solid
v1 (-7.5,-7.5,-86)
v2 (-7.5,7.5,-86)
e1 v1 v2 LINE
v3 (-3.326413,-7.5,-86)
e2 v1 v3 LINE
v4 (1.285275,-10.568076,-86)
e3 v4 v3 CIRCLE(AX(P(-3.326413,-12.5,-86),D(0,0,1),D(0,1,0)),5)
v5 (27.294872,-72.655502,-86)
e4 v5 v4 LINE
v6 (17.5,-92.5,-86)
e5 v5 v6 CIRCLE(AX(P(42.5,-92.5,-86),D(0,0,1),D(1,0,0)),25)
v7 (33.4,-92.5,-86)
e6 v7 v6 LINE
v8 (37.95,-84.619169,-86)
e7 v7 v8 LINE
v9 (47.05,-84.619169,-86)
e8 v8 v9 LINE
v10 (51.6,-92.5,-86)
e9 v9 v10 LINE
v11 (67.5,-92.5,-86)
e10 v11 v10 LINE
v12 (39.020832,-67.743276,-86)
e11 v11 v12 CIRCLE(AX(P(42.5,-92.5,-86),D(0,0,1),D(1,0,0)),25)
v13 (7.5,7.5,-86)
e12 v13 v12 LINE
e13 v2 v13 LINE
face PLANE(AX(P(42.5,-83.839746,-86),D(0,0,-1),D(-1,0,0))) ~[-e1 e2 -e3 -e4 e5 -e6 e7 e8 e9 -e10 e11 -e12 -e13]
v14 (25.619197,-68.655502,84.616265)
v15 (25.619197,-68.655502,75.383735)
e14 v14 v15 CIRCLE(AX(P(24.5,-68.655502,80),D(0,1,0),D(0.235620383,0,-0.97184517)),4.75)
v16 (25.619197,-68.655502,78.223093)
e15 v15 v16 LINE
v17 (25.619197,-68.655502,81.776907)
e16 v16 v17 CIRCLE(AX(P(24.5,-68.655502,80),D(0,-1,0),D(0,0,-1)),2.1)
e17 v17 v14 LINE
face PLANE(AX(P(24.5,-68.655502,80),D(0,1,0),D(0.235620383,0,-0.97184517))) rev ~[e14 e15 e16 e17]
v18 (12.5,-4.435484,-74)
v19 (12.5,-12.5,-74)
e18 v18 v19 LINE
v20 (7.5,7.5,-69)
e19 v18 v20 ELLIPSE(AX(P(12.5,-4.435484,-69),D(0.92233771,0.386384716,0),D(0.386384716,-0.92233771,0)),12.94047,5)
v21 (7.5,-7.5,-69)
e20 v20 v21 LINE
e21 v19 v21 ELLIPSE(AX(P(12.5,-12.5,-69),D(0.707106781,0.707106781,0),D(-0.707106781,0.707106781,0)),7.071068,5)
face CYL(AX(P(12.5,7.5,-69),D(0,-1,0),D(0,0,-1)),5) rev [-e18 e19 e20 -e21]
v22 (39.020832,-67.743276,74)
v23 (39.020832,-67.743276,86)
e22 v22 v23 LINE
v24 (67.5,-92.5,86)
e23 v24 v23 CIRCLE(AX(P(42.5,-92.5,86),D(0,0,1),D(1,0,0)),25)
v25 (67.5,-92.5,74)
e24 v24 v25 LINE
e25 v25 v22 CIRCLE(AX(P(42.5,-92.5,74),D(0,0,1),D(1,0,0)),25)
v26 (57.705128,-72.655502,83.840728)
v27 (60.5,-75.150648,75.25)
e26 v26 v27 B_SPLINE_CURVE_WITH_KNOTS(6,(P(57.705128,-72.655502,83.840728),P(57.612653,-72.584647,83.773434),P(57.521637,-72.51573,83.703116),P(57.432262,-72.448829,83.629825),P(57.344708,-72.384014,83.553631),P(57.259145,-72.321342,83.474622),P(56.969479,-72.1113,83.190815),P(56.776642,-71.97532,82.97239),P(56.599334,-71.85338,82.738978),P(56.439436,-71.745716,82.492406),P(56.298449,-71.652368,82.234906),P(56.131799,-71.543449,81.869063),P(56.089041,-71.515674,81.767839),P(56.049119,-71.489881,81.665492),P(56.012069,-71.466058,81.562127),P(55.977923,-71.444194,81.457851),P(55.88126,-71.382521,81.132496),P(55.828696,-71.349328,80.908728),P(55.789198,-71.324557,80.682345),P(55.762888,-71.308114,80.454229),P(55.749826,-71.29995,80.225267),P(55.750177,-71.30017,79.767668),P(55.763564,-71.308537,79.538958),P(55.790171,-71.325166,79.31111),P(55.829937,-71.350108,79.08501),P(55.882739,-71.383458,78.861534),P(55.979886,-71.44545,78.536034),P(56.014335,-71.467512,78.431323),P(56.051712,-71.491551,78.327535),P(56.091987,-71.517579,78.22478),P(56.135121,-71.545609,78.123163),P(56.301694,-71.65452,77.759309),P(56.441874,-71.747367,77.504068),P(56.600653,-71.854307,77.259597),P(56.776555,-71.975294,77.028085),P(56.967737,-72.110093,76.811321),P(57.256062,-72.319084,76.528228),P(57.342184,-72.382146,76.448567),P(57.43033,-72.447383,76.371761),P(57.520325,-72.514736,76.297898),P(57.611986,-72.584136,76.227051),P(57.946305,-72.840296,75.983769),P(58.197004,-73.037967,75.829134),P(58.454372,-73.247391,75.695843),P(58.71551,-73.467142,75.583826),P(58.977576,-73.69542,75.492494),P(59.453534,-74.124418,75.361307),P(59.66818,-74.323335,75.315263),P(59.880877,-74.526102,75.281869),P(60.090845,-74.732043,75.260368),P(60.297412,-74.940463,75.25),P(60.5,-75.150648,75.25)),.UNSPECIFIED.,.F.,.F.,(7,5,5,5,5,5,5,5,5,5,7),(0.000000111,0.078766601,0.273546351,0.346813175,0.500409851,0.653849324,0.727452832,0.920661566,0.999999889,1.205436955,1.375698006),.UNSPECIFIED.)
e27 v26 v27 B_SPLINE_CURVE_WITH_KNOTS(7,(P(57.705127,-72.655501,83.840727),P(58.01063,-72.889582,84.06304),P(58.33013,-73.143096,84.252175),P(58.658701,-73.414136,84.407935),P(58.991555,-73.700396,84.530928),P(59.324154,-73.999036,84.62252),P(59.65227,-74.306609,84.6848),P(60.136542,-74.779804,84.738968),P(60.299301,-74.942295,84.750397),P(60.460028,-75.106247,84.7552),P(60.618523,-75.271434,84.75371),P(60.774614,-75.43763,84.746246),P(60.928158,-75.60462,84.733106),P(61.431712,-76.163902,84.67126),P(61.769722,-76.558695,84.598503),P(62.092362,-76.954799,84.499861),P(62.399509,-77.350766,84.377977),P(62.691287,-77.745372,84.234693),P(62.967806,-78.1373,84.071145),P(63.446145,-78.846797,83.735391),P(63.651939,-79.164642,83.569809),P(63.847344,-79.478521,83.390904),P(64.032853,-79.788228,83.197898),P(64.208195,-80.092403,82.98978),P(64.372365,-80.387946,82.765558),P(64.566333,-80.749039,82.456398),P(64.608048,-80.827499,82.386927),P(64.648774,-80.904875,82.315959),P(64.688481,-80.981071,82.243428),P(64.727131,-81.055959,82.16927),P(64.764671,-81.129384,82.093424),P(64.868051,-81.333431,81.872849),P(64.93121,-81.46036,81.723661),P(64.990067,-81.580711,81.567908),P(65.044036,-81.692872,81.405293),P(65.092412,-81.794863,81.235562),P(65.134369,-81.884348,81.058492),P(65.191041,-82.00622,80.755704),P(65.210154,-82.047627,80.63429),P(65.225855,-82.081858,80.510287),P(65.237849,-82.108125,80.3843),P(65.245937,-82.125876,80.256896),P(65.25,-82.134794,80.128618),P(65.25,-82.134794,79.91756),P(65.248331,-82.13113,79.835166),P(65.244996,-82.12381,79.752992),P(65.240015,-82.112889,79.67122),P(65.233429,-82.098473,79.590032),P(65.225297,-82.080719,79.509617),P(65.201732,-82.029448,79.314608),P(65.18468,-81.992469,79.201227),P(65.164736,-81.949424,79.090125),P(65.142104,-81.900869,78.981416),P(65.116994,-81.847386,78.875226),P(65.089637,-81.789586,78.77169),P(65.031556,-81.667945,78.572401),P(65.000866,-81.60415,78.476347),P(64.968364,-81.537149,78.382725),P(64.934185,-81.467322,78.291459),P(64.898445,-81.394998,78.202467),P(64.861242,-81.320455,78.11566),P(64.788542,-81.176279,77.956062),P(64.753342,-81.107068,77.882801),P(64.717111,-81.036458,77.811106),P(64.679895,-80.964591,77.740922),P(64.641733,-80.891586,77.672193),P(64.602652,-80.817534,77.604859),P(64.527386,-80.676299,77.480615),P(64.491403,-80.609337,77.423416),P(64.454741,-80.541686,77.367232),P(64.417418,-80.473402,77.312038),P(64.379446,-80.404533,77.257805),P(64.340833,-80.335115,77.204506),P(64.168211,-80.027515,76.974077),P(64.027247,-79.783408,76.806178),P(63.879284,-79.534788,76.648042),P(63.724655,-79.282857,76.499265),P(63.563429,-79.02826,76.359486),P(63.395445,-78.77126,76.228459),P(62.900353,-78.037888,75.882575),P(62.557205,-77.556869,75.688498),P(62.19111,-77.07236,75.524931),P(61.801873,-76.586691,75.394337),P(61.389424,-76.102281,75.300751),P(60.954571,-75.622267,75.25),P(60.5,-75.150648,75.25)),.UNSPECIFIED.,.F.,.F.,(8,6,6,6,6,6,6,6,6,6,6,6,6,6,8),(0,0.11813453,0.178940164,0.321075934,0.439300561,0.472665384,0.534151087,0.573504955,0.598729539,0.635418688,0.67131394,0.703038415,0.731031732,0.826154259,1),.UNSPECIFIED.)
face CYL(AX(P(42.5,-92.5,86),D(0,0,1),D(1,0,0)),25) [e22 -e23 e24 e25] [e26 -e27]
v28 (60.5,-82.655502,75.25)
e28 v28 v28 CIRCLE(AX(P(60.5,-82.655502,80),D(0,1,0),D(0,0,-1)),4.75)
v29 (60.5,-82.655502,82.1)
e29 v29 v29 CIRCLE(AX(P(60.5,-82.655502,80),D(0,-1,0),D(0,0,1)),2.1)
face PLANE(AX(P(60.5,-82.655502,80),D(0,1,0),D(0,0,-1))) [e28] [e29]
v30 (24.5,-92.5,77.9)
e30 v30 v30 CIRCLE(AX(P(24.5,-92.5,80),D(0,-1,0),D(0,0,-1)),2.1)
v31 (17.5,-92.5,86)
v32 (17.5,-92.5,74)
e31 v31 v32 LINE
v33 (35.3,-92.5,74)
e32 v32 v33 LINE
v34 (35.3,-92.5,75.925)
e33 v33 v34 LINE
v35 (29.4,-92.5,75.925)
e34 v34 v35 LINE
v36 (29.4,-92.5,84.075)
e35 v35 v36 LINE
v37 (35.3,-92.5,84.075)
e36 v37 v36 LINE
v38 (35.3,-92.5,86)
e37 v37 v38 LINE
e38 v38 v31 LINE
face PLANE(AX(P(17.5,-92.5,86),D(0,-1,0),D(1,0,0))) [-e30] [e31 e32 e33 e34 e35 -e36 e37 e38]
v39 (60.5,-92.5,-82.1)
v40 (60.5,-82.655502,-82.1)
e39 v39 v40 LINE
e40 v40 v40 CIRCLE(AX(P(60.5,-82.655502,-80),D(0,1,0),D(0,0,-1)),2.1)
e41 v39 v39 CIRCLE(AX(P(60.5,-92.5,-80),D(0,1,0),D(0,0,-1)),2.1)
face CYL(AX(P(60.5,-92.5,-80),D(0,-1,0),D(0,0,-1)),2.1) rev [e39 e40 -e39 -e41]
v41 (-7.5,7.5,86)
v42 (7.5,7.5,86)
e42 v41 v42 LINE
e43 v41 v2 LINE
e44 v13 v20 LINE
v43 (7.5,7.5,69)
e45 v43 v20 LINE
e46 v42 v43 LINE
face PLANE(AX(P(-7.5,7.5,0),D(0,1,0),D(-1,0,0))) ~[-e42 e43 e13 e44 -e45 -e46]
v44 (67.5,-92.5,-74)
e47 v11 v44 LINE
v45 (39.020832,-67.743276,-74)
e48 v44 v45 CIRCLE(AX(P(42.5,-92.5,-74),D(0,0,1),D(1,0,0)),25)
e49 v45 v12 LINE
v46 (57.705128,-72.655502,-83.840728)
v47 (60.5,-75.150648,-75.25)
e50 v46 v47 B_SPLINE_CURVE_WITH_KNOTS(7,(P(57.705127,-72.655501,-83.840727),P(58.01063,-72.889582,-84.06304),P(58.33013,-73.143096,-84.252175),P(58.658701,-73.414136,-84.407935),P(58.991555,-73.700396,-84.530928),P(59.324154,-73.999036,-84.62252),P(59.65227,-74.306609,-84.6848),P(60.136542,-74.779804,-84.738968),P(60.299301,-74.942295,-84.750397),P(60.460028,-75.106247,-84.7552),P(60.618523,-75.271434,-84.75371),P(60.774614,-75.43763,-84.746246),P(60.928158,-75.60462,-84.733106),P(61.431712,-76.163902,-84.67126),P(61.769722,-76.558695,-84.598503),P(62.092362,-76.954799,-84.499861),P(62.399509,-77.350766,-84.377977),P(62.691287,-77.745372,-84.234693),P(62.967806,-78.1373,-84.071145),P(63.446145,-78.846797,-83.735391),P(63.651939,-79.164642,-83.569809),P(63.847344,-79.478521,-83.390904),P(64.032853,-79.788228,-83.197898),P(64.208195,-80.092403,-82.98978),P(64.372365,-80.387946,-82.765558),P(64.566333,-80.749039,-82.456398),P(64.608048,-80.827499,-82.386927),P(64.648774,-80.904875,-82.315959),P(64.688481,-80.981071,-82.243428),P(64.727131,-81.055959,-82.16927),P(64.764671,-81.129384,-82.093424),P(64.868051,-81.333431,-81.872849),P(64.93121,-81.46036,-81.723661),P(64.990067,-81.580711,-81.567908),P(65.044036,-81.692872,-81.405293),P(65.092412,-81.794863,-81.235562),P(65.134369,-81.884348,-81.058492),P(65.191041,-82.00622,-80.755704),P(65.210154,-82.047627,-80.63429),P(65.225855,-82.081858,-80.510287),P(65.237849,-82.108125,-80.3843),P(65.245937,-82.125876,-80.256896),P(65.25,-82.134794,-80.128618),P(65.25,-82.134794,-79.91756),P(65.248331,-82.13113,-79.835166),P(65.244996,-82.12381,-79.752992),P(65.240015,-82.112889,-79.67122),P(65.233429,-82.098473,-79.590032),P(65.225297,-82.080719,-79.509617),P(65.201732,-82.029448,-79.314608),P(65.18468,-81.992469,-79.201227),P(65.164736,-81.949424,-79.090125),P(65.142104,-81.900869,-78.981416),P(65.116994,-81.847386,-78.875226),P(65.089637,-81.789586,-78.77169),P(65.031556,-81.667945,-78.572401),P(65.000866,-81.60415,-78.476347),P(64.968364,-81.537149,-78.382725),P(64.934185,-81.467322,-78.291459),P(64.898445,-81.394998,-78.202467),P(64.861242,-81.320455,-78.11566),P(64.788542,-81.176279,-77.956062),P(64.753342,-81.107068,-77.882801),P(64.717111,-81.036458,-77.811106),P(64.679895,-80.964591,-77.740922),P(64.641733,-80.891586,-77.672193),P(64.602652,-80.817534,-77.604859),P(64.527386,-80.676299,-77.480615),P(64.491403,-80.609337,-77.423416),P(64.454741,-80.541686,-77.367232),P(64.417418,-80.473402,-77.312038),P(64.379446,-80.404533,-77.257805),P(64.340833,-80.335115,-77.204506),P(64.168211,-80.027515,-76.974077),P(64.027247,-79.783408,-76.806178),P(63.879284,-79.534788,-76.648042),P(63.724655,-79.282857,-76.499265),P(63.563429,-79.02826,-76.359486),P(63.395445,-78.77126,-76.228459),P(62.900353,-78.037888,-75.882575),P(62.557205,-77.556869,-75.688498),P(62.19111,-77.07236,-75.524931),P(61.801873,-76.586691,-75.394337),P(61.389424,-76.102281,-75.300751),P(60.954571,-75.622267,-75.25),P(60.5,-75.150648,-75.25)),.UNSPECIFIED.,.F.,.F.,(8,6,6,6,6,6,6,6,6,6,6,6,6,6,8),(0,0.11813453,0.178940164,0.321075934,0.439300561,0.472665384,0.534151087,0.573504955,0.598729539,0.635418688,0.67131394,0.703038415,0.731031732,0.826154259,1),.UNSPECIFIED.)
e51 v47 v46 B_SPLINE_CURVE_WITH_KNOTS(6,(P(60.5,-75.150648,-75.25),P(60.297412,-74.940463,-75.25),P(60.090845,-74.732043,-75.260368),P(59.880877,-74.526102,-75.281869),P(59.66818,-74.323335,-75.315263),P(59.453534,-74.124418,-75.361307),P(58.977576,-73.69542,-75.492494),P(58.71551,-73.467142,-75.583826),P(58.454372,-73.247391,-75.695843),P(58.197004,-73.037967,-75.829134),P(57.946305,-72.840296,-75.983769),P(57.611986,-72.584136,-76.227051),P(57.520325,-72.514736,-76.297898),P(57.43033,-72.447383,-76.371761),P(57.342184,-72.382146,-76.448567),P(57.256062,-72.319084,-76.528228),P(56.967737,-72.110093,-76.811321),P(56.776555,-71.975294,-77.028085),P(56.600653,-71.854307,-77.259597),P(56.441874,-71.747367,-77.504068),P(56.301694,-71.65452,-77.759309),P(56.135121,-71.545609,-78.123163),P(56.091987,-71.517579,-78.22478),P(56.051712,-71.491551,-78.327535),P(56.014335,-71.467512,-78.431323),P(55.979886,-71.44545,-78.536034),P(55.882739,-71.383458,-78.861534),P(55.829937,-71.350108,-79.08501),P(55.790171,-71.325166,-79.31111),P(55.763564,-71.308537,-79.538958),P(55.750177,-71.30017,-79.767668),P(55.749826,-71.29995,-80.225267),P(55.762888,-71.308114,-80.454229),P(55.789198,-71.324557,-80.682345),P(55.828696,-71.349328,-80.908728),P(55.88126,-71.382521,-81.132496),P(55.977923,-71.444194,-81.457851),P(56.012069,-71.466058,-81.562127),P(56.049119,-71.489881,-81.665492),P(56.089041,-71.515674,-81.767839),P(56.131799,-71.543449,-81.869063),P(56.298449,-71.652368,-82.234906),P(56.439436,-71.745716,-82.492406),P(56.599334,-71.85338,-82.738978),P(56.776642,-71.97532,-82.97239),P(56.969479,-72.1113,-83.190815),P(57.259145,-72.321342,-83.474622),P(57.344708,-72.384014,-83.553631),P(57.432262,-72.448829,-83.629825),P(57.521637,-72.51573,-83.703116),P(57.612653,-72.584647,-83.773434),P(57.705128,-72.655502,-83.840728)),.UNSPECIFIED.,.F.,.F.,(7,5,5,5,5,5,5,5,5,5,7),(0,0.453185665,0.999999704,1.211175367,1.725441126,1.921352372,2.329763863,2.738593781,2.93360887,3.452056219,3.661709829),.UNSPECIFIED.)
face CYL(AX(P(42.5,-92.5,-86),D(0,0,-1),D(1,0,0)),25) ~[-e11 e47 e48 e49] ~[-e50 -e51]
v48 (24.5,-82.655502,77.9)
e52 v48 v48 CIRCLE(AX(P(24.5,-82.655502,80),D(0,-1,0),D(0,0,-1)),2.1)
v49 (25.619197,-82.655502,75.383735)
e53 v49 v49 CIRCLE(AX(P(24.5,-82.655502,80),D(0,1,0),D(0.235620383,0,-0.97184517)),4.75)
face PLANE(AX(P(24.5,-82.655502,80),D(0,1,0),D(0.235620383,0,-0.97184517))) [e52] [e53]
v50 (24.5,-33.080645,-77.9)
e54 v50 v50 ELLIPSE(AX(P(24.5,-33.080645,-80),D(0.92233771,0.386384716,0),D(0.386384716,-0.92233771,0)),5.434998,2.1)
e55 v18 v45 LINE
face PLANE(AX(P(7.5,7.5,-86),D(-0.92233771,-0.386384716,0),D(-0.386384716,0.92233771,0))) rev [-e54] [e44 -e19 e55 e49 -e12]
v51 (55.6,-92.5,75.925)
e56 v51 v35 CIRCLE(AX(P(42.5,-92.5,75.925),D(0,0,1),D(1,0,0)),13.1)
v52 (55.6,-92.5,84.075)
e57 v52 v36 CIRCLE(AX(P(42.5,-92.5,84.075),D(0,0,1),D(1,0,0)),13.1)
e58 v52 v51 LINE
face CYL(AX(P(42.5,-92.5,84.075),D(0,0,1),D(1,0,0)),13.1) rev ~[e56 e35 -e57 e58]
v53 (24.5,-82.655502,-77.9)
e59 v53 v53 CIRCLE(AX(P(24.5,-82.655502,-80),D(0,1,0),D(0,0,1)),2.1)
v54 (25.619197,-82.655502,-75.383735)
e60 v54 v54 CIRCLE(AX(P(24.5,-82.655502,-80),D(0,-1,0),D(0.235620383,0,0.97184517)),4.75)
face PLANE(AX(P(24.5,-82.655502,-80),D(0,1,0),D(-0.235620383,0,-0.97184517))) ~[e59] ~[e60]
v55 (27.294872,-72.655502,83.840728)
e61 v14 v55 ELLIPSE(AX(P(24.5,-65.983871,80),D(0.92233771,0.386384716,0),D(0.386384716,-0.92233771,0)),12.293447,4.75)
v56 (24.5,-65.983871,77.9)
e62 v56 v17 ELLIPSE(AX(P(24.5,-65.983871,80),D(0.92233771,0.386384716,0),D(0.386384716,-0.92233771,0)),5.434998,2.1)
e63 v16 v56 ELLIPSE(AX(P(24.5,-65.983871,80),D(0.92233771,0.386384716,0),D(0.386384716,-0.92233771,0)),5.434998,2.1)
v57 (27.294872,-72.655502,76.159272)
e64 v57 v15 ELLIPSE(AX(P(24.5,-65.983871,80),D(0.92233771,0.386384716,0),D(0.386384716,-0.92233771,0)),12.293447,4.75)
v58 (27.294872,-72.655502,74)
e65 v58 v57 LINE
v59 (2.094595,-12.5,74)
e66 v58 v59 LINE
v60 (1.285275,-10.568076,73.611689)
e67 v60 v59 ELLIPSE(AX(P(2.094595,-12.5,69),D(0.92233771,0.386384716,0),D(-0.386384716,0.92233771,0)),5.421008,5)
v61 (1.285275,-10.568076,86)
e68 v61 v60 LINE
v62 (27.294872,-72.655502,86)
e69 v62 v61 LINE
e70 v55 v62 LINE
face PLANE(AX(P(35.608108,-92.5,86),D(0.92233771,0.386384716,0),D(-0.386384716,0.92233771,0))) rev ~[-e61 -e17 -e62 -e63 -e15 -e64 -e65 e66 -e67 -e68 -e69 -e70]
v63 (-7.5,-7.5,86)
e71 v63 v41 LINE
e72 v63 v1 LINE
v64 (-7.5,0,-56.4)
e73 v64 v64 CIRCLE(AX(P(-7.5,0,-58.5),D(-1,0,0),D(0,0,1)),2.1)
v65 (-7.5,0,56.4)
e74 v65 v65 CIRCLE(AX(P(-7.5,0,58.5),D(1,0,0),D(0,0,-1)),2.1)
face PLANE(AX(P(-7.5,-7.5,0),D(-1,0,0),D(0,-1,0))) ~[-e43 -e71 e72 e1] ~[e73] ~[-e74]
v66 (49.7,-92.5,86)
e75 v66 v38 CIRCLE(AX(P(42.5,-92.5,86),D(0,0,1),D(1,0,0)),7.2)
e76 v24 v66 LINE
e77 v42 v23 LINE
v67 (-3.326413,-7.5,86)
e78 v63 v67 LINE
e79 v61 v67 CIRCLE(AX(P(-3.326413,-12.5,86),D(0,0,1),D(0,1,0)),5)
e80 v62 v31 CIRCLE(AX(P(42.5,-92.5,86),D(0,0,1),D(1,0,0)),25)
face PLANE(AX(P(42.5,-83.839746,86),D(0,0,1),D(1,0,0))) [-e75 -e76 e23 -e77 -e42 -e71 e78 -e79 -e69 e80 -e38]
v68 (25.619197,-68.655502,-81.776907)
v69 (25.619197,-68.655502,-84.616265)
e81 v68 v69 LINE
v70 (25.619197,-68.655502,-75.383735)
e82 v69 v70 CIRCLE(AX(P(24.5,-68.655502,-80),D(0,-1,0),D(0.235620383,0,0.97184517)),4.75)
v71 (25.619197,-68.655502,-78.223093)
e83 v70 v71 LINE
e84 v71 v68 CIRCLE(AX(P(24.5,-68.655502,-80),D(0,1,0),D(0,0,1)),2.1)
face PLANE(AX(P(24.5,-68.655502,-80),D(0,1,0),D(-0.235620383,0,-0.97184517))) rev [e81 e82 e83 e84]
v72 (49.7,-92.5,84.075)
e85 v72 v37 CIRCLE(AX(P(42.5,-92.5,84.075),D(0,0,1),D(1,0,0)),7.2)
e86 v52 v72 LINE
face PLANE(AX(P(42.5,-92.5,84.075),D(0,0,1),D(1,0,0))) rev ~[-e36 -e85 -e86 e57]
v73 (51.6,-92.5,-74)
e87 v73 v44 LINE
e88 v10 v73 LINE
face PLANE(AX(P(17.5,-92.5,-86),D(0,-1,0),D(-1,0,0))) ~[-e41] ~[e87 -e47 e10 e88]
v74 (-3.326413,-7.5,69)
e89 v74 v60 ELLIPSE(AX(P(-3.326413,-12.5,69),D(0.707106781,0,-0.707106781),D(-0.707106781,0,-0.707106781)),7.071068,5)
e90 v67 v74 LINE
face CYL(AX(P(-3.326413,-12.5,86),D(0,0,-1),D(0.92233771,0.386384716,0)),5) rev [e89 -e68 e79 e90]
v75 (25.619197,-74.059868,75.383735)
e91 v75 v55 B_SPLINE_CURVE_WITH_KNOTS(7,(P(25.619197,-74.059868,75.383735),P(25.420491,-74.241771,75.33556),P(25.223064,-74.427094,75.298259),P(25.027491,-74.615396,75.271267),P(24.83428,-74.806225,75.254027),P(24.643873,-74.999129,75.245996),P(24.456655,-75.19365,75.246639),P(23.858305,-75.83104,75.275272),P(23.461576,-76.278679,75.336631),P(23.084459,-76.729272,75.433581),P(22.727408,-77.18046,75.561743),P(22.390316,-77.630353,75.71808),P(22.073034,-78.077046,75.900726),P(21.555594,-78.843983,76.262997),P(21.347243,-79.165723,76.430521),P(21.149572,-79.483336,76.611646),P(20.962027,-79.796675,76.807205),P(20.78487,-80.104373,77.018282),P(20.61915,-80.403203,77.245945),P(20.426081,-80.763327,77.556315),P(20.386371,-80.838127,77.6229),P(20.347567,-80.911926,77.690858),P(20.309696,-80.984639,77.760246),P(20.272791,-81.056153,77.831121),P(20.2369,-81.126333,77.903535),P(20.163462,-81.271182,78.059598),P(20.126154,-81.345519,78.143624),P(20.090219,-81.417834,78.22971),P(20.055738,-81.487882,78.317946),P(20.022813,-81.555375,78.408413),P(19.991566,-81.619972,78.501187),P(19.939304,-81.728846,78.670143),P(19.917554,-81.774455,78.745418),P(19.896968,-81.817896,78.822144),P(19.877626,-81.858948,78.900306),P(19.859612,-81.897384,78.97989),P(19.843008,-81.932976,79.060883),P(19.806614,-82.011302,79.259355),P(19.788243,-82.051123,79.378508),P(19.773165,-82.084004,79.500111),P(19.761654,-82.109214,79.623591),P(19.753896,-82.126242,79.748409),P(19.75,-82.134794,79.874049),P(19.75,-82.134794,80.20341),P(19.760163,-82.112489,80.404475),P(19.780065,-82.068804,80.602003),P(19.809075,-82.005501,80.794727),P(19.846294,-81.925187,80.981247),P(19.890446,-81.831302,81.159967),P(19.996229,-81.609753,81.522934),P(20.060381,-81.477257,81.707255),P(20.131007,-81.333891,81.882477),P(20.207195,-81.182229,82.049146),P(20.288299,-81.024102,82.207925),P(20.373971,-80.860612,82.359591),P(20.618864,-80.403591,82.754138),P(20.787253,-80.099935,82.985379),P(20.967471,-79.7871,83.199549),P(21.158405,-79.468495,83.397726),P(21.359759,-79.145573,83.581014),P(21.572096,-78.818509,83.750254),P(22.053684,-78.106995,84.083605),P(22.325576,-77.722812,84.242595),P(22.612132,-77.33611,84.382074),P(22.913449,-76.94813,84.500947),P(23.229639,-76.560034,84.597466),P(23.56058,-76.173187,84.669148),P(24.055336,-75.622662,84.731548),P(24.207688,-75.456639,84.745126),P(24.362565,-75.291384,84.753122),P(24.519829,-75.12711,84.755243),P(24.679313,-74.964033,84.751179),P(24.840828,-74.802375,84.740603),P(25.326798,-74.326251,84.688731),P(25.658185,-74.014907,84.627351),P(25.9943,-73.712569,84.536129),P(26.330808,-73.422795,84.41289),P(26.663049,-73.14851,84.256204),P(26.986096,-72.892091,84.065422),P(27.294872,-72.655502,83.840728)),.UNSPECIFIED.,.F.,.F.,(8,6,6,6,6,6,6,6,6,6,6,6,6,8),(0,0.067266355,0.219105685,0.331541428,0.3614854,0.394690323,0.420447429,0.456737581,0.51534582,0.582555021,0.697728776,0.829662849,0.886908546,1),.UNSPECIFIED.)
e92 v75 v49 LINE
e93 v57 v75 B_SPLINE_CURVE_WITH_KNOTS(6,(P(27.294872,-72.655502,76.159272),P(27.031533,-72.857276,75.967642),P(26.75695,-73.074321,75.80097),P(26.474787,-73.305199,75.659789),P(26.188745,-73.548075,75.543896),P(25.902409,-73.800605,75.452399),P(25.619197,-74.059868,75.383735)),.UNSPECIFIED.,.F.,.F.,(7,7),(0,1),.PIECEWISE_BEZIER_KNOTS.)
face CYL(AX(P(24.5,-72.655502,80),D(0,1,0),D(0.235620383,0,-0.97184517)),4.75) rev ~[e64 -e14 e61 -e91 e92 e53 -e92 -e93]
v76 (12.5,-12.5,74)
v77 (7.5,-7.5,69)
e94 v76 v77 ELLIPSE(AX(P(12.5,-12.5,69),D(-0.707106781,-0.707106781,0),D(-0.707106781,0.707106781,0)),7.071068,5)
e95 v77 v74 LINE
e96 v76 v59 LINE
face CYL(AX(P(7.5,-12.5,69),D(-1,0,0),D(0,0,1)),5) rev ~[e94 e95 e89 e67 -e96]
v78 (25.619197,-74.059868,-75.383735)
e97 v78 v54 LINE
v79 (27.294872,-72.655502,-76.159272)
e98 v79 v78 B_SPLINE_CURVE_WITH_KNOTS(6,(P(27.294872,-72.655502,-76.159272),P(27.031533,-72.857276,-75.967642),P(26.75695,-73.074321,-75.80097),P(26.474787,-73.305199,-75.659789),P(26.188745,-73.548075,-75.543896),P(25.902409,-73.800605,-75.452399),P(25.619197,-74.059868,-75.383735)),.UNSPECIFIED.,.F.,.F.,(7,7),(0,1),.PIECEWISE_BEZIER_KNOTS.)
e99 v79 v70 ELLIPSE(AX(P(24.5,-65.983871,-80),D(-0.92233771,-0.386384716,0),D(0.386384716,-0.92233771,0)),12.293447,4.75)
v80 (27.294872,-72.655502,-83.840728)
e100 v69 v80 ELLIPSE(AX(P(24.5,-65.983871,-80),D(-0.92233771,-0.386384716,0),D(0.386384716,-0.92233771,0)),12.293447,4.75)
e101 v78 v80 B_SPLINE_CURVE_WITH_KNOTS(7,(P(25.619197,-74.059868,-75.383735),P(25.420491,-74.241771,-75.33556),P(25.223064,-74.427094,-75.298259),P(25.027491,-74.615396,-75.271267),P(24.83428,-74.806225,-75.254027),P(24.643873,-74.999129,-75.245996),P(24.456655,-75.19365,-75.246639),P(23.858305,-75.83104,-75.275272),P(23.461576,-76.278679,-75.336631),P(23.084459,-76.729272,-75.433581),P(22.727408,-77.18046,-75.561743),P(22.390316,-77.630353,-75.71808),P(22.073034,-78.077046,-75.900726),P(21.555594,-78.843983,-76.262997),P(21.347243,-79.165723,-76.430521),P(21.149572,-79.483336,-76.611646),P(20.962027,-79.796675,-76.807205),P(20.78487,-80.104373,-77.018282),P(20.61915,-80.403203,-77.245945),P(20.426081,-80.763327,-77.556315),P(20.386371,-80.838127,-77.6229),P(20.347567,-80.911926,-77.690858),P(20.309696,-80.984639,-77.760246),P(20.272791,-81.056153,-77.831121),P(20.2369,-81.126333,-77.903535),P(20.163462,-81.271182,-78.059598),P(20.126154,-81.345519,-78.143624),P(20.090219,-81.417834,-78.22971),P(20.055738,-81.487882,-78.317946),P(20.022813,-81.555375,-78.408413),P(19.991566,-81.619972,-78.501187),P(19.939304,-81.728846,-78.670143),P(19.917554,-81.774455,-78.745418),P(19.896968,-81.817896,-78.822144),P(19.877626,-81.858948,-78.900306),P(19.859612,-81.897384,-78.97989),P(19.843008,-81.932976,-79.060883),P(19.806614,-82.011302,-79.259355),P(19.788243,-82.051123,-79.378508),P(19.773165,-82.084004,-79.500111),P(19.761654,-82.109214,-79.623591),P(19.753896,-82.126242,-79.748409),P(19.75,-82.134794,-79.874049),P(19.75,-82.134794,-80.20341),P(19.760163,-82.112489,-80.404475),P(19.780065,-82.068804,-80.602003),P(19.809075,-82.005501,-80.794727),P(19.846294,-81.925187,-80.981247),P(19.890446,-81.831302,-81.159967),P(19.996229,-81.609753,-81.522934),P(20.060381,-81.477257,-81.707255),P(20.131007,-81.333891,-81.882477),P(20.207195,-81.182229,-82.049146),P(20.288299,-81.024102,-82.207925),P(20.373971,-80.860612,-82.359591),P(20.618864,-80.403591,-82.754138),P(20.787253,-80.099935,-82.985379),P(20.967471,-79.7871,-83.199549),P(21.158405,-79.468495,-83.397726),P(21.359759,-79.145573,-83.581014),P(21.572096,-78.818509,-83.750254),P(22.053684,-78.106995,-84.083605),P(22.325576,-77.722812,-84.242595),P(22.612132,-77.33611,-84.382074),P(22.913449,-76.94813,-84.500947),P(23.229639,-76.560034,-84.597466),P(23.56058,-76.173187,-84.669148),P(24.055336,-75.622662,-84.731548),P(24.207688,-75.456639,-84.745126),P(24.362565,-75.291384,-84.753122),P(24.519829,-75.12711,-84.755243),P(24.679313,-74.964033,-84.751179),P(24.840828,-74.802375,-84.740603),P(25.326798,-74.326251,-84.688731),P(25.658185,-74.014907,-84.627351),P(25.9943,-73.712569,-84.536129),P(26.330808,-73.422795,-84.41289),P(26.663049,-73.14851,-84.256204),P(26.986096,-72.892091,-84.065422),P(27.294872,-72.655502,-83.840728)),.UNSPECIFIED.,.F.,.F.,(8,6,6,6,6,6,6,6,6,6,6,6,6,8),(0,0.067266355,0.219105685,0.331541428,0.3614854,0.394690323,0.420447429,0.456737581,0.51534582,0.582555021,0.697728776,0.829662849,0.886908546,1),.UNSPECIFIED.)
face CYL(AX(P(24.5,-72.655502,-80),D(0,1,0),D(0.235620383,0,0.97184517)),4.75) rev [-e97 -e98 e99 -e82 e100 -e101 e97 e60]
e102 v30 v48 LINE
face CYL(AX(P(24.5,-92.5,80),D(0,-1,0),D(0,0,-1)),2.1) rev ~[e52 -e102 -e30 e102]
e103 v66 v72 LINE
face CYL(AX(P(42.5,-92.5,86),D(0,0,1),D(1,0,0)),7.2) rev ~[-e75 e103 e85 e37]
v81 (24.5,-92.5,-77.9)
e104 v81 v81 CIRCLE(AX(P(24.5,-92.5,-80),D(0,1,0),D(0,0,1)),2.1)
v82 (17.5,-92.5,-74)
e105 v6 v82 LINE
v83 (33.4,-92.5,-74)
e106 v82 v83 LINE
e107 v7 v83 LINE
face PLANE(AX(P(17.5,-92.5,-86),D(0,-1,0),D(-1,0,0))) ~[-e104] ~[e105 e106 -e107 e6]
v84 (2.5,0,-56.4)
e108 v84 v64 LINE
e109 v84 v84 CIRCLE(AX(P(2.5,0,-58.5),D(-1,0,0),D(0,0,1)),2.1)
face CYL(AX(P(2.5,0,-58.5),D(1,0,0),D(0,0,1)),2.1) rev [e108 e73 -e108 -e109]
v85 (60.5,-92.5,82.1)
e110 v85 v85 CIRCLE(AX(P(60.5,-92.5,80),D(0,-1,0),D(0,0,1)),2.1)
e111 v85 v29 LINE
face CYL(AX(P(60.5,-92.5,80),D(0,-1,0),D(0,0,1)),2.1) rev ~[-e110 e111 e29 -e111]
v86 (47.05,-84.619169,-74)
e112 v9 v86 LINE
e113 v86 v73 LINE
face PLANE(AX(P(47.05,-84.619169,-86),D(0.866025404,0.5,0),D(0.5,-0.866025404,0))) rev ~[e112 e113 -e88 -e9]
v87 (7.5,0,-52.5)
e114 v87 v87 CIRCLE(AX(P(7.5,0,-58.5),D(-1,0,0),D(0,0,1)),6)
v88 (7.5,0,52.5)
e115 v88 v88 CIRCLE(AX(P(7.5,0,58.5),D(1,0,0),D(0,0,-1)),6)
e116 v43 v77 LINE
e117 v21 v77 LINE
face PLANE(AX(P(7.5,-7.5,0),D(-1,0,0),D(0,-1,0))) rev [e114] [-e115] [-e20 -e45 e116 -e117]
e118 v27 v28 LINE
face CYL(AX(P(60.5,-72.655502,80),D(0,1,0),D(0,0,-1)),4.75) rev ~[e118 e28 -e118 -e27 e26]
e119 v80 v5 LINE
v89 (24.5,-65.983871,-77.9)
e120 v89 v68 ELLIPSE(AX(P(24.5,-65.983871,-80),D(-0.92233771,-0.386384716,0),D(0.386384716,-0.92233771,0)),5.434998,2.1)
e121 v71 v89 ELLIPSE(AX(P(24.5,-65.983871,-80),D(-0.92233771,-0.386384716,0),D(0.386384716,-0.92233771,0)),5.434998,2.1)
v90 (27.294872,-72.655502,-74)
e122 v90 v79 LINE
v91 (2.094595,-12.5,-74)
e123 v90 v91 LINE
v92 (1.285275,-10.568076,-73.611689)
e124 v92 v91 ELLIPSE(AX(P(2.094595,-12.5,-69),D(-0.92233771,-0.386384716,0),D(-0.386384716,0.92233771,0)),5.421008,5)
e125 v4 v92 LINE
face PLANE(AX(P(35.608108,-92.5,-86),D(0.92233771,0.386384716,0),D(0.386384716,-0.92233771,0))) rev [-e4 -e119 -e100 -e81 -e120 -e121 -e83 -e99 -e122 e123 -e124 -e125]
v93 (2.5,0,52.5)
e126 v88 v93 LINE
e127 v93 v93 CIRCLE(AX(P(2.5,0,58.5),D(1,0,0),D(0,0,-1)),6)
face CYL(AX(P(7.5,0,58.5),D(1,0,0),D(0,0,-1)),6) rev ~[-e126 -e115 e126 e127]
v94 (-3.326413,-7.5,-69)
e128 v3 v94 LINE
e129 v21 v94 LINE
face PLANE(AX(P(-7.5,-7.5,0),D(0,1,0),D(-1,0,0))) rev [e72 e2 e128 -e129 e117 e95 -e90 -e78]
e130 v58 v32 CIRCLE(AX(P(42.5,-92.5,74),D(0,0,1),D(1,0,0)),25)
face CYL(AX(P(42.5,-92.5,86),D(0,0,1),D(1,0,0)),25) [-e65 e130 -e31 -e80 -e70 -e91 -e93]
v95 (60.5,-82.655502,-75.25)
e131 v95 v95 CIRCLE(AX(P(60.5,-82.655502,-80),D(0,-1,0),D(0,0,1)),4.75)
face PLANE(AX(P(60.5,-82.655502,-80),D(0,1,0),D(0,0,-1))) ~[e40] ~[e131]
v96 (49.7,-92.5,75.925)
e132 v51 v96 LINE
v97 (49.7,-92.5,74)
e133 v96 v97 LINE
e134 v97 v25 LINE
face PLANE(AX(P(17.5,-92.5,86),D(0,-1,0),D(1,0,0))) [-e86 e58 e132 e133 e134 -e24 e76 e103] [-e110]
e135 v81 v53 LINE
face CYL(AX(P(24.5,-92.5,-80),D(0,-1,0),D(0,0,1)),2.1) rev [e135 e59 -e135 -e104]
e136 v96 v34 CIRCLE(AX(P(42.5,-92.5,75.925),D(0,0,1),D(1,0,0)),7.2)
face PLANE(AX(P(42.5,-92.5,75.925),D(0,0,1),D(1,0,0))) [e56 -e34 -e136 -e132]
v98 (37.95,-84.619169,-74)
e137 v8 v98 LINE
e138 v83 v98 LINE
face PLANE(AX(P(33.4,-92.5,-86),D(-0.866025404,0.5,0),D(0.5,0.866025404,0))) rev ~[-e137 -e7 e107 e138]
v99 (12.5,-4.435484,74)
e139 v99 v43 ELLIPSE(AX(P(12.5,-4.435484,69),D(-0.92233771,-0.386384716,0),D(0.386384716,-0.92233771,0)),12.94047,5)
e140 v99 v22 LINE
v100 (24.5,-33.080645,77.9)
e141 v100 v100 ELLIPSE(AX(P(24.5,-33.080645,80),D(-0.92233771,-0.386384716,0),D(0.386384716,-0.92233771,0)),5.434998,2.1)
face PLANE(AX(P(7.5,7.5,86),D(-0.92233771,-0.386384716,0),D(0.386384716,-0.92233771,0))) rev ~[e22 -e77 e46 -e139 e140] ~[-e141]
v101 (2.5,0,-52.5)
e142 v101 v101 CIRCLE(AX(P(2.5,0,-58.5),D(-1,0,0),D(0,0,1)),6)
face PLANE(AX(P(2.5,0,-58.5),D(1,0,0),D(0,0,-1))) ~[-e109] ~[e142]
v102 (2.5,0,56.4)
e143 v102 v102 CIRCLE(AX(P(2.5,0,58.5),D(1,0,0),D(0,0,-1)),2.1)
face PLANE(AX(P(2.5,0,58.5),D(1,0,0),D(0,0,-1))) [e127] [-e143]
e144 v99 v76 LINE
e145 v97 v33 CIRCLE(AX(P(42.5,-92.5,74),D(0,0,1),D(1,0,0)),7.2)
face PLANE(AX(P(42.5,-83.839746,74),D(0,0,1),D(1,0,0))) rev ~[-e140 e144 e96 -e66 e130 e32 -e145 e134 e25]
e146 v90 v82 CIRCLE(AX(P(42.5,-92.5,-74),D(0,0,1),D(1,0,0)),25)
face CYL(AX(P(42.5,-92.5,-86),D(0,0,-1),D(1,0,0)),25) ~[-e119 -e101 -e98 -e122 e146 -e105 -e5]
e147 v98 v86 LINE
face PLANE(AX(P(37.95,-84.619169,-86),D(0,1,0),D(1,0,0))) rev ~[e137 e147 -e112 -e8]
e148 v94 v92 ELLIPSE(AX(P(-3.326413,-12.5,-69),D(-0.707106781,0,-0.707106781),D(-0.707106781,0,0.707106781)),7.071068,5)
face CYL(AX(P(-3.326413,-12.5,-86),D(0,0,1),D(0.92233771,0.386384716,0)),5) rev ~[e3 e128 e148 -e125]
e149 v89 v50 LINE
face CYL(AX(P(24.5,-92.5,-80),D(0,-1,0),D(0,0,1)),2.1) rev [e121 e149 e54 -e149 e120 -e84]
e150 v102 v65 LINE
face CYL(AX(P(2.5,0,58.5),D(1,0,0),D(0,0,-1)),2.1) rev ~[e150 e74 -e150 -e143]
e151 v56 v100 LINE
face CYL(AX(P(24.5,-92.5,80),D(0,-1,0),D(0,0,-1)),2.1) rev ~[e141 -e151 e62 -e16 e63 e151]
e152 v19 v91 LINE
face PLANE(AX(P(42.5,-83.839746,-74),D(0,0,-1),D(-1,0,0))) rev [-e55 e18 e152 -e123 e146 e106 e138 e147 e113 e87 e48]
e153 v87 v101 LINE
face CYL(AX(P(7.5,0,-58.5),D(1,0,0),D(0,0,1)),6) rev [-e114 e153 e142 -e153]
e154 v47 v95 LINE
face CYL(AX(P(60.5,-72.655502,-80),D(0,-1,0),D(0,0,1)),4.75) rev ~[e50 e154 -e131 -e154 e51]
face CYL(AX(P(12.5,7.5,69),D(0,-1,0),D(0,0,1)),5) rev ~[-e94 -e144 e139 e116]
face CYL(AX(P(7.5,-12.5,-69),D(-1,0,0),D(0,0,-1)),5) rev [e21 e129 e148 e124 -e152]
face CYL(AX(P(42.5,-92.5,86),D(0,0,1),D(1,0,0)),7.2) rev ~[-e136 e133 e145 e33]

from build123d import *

# Parameters (mm, degrees)
SKETCH1_W               = 15
SKETCH1_H               = 15
BOSS_EXTRUDE1_DEPTH     = 86
BOSS_EXTRUDE2_DEPTH     = 12
SKETCH3_R               = 6
CUT_EXTRUDE1_DEPTH      = 5
SKETCH4_R               = 2.1
CUT_EXTRUDE2_DEPTH      = 135.726016512
BOSS_EXTRUDE5_DEPTH     = 12
SKETCH8_R               = 4.75
CUT_EXTRUDE4_DEPTH      = 4
CUT_EXTRUDE4_DEPTH_BACK = 10
SKETCH6_R               = 2.1
CUT_EXTRUDE5_DEPTH      = 149.162917192
FILLET1_R               = 5
CUT_EXTRUDE6_REACH      = 208.631
SKETCH9_R               = 7.2
CUT_EXTRUDE7_START      = -1.925
SKETCH10_R              = 13.1
CUT_EXTRUDE7_DEPTH      = 8.15
CUT_EXTRUDE8_REACH      = 208.631


with BuildPart() as part:
    # Sketch1 → Boss-Extrude1 (new body)
    with BuildSketch(Plane.XY):
        Rectangle(SKETCH1_W, SKETCH1_H)
    extrude(amount=BOSS_EXTRUDE1_DEPTH)

    # Sketch2 → Boss-Extrude2 (add)
    with BuildSketch(Plane.XY.offset(86)):
        Polygon((7.5, 7.5), (49.391891892, -92.5), (35.608108108, -92.5), (0, -7.5), align=None)
    extrude(amount=-BOSS_EXTRUDE2_DEPTH)

    # Sketch3 → Cut-Extrude1 (cut)
    with BuildSketch(Plane(origin=(7.5, 0, 0), x_dir=(0, 0, -1), z_dir=(1, 0, 0))):
        with Locations((-58.5, 0)):
            Circle(SKETCH3_R)
    extrude(amount=-CUT_EXTRUDE1_DEPTH, mode=Mode.SUBTRACT)

    # Sketch4 → Cut-Extrude2 (cut, through all)
    with BuildSketch(Plane(origin=(2.5, 0, 0), x_dir=(0, 0, -1), z_dir=(1, 0, 0))):
        with Locations((-58.5, 0)):
            Circle(SKETCH4_R)
    extrude(amount=-CUT_EXTRUDE2_DEPTH, mode=Mode.SUBTRACT)

    # Sketch5 → Boss-Extrude5 (add)
    with BuildSketch(Plane.XY.offset(86)):
        with BuildLine():
            Line((17.5, -92.5), (67.5, -92.5))
            ThreePointArc((67.5, -92.5), (42.5, -67.5), (17.5, -92.5))
        make_face()
    extrude(amount=-BOSS_EXTRUDE5_DEPTH)

    # Sketch8 → Cut-Extrude4 (cut, two sides)
    with BuildSketch(Plane(origin=(0, -72.655502084, 0), x_dir=(1, 0, 0), z_dir=(0, 1, 0))) as cut_extrude4_sk:
        with Locations(Location((24.5, -80, 0), (0, 0, 76.371804965))):
            Circle(SKETCH8_R)
        with Locations(Location((60.5, -80, 0), (0, 0, 90))):
            Circle(SKETCH8_R)
    extrude(amount=CUT_EXTRUDE4_DEPTH, mode=Mode.SUBTRACT)
    extrude(cut_extrude4_sk.sketch, amount=-CUT_EXTRUDE4_DEPTH_BACK, mode=Mode.SUBTRACT)

    # Sketch6 → Cut-Extrude5 (cut, through all)
    with BuildSketch(Plane.XZ.offset(92.5)):
        with Locations(Location((24.5, 80, 0), (0, 0, 270))):
            Circle(SKETCH6_R)
        with Locations(Location((60.5, 80, 0), (0, 0, 90))):
            Circle(SKETCH6_R)
    extrude(amount=-CUT_EXTRUDE5_DEPTH, mode=Mode.SUBTRACT)

    # Fillet1
    fillet1_edges = [part.edges().sort_by_distance(p)[0] for p in [
        (3.75, -7.5, 74),
        (7.5, 0, 74),
        (0, -7.5, 80),
    ]]
    fillet(fillet1_edges, radius=FILLET1_R)

    # Mirror2: part across plane


with BuildPart() as part_1:
    add(part.part)
    add(part.part.mirror(Plane(origin=(0, 0, 0), x_dir=(1, 0, 0), z_dir=(0, 0, -1))))

    # Sketch9 → Cut-Extrude6 (cut, up to next)
    with BuildSketch(Plane.XY.offset(86), mode=Mode.PRIVATE) as cut_extrude6_sk1:
        with Locations((42.5, -92.5)):
            Circle(SKETCH9_R)
    cut_extrude6_tool1 = extrude(cut_extrude6_sk1.sketch, amount=-CUT_EXTRUDE6_REACH, mode=Mode.PRIVATE) & part_1.part
    add(cut_extrude6_tool1.solids().sort_by_distance((42.5, -92.5, 86))[0], mode=Mode.SUBTRACT)

    # Sketch10 → Cut-Extrude7 (cut)
    with BuildSketch(Plane.XY.offset(86).offset(CUT_EXTRUDE7_START)):
        with Locations((42.5, -92.5)):
            Circle(SKETCH10_R)
    extrude(amount=-CUT_EXTRUDE7_DEPTH, mode=Mode.SUBTRACT)

    # Sketch11 → Cut-Extrude8 (cut, up to next)
    with BuildSketch(Plane(origin=(0, 0, -86), x_dir=(-1, 0, 0), z_dir=(0, 0, -1)), mode=Mode.PRIVATE) as cut_extrude8_sk1:
        Polygon((-33.4, -92.5), (-37.95, -84.619168826), (-47.05, -84.619168826), (-51.6, -92.5), (-47.05, -100.380831174), (-37.95, -100.380831174), align=None)
    cut_extrude8_tool1 = extrude(cut_extrude8_sk1.sketch, amount=-CUT_EXTRUDE8_REACH, mode=Mode.PRIVATE) & part_1.part
    add(cut_extrude8_tool1.solids().sort_by_distance((42.5, -92.5, -86))[0], mode=Mode.SUBTRACT)


solid = part_1.part
